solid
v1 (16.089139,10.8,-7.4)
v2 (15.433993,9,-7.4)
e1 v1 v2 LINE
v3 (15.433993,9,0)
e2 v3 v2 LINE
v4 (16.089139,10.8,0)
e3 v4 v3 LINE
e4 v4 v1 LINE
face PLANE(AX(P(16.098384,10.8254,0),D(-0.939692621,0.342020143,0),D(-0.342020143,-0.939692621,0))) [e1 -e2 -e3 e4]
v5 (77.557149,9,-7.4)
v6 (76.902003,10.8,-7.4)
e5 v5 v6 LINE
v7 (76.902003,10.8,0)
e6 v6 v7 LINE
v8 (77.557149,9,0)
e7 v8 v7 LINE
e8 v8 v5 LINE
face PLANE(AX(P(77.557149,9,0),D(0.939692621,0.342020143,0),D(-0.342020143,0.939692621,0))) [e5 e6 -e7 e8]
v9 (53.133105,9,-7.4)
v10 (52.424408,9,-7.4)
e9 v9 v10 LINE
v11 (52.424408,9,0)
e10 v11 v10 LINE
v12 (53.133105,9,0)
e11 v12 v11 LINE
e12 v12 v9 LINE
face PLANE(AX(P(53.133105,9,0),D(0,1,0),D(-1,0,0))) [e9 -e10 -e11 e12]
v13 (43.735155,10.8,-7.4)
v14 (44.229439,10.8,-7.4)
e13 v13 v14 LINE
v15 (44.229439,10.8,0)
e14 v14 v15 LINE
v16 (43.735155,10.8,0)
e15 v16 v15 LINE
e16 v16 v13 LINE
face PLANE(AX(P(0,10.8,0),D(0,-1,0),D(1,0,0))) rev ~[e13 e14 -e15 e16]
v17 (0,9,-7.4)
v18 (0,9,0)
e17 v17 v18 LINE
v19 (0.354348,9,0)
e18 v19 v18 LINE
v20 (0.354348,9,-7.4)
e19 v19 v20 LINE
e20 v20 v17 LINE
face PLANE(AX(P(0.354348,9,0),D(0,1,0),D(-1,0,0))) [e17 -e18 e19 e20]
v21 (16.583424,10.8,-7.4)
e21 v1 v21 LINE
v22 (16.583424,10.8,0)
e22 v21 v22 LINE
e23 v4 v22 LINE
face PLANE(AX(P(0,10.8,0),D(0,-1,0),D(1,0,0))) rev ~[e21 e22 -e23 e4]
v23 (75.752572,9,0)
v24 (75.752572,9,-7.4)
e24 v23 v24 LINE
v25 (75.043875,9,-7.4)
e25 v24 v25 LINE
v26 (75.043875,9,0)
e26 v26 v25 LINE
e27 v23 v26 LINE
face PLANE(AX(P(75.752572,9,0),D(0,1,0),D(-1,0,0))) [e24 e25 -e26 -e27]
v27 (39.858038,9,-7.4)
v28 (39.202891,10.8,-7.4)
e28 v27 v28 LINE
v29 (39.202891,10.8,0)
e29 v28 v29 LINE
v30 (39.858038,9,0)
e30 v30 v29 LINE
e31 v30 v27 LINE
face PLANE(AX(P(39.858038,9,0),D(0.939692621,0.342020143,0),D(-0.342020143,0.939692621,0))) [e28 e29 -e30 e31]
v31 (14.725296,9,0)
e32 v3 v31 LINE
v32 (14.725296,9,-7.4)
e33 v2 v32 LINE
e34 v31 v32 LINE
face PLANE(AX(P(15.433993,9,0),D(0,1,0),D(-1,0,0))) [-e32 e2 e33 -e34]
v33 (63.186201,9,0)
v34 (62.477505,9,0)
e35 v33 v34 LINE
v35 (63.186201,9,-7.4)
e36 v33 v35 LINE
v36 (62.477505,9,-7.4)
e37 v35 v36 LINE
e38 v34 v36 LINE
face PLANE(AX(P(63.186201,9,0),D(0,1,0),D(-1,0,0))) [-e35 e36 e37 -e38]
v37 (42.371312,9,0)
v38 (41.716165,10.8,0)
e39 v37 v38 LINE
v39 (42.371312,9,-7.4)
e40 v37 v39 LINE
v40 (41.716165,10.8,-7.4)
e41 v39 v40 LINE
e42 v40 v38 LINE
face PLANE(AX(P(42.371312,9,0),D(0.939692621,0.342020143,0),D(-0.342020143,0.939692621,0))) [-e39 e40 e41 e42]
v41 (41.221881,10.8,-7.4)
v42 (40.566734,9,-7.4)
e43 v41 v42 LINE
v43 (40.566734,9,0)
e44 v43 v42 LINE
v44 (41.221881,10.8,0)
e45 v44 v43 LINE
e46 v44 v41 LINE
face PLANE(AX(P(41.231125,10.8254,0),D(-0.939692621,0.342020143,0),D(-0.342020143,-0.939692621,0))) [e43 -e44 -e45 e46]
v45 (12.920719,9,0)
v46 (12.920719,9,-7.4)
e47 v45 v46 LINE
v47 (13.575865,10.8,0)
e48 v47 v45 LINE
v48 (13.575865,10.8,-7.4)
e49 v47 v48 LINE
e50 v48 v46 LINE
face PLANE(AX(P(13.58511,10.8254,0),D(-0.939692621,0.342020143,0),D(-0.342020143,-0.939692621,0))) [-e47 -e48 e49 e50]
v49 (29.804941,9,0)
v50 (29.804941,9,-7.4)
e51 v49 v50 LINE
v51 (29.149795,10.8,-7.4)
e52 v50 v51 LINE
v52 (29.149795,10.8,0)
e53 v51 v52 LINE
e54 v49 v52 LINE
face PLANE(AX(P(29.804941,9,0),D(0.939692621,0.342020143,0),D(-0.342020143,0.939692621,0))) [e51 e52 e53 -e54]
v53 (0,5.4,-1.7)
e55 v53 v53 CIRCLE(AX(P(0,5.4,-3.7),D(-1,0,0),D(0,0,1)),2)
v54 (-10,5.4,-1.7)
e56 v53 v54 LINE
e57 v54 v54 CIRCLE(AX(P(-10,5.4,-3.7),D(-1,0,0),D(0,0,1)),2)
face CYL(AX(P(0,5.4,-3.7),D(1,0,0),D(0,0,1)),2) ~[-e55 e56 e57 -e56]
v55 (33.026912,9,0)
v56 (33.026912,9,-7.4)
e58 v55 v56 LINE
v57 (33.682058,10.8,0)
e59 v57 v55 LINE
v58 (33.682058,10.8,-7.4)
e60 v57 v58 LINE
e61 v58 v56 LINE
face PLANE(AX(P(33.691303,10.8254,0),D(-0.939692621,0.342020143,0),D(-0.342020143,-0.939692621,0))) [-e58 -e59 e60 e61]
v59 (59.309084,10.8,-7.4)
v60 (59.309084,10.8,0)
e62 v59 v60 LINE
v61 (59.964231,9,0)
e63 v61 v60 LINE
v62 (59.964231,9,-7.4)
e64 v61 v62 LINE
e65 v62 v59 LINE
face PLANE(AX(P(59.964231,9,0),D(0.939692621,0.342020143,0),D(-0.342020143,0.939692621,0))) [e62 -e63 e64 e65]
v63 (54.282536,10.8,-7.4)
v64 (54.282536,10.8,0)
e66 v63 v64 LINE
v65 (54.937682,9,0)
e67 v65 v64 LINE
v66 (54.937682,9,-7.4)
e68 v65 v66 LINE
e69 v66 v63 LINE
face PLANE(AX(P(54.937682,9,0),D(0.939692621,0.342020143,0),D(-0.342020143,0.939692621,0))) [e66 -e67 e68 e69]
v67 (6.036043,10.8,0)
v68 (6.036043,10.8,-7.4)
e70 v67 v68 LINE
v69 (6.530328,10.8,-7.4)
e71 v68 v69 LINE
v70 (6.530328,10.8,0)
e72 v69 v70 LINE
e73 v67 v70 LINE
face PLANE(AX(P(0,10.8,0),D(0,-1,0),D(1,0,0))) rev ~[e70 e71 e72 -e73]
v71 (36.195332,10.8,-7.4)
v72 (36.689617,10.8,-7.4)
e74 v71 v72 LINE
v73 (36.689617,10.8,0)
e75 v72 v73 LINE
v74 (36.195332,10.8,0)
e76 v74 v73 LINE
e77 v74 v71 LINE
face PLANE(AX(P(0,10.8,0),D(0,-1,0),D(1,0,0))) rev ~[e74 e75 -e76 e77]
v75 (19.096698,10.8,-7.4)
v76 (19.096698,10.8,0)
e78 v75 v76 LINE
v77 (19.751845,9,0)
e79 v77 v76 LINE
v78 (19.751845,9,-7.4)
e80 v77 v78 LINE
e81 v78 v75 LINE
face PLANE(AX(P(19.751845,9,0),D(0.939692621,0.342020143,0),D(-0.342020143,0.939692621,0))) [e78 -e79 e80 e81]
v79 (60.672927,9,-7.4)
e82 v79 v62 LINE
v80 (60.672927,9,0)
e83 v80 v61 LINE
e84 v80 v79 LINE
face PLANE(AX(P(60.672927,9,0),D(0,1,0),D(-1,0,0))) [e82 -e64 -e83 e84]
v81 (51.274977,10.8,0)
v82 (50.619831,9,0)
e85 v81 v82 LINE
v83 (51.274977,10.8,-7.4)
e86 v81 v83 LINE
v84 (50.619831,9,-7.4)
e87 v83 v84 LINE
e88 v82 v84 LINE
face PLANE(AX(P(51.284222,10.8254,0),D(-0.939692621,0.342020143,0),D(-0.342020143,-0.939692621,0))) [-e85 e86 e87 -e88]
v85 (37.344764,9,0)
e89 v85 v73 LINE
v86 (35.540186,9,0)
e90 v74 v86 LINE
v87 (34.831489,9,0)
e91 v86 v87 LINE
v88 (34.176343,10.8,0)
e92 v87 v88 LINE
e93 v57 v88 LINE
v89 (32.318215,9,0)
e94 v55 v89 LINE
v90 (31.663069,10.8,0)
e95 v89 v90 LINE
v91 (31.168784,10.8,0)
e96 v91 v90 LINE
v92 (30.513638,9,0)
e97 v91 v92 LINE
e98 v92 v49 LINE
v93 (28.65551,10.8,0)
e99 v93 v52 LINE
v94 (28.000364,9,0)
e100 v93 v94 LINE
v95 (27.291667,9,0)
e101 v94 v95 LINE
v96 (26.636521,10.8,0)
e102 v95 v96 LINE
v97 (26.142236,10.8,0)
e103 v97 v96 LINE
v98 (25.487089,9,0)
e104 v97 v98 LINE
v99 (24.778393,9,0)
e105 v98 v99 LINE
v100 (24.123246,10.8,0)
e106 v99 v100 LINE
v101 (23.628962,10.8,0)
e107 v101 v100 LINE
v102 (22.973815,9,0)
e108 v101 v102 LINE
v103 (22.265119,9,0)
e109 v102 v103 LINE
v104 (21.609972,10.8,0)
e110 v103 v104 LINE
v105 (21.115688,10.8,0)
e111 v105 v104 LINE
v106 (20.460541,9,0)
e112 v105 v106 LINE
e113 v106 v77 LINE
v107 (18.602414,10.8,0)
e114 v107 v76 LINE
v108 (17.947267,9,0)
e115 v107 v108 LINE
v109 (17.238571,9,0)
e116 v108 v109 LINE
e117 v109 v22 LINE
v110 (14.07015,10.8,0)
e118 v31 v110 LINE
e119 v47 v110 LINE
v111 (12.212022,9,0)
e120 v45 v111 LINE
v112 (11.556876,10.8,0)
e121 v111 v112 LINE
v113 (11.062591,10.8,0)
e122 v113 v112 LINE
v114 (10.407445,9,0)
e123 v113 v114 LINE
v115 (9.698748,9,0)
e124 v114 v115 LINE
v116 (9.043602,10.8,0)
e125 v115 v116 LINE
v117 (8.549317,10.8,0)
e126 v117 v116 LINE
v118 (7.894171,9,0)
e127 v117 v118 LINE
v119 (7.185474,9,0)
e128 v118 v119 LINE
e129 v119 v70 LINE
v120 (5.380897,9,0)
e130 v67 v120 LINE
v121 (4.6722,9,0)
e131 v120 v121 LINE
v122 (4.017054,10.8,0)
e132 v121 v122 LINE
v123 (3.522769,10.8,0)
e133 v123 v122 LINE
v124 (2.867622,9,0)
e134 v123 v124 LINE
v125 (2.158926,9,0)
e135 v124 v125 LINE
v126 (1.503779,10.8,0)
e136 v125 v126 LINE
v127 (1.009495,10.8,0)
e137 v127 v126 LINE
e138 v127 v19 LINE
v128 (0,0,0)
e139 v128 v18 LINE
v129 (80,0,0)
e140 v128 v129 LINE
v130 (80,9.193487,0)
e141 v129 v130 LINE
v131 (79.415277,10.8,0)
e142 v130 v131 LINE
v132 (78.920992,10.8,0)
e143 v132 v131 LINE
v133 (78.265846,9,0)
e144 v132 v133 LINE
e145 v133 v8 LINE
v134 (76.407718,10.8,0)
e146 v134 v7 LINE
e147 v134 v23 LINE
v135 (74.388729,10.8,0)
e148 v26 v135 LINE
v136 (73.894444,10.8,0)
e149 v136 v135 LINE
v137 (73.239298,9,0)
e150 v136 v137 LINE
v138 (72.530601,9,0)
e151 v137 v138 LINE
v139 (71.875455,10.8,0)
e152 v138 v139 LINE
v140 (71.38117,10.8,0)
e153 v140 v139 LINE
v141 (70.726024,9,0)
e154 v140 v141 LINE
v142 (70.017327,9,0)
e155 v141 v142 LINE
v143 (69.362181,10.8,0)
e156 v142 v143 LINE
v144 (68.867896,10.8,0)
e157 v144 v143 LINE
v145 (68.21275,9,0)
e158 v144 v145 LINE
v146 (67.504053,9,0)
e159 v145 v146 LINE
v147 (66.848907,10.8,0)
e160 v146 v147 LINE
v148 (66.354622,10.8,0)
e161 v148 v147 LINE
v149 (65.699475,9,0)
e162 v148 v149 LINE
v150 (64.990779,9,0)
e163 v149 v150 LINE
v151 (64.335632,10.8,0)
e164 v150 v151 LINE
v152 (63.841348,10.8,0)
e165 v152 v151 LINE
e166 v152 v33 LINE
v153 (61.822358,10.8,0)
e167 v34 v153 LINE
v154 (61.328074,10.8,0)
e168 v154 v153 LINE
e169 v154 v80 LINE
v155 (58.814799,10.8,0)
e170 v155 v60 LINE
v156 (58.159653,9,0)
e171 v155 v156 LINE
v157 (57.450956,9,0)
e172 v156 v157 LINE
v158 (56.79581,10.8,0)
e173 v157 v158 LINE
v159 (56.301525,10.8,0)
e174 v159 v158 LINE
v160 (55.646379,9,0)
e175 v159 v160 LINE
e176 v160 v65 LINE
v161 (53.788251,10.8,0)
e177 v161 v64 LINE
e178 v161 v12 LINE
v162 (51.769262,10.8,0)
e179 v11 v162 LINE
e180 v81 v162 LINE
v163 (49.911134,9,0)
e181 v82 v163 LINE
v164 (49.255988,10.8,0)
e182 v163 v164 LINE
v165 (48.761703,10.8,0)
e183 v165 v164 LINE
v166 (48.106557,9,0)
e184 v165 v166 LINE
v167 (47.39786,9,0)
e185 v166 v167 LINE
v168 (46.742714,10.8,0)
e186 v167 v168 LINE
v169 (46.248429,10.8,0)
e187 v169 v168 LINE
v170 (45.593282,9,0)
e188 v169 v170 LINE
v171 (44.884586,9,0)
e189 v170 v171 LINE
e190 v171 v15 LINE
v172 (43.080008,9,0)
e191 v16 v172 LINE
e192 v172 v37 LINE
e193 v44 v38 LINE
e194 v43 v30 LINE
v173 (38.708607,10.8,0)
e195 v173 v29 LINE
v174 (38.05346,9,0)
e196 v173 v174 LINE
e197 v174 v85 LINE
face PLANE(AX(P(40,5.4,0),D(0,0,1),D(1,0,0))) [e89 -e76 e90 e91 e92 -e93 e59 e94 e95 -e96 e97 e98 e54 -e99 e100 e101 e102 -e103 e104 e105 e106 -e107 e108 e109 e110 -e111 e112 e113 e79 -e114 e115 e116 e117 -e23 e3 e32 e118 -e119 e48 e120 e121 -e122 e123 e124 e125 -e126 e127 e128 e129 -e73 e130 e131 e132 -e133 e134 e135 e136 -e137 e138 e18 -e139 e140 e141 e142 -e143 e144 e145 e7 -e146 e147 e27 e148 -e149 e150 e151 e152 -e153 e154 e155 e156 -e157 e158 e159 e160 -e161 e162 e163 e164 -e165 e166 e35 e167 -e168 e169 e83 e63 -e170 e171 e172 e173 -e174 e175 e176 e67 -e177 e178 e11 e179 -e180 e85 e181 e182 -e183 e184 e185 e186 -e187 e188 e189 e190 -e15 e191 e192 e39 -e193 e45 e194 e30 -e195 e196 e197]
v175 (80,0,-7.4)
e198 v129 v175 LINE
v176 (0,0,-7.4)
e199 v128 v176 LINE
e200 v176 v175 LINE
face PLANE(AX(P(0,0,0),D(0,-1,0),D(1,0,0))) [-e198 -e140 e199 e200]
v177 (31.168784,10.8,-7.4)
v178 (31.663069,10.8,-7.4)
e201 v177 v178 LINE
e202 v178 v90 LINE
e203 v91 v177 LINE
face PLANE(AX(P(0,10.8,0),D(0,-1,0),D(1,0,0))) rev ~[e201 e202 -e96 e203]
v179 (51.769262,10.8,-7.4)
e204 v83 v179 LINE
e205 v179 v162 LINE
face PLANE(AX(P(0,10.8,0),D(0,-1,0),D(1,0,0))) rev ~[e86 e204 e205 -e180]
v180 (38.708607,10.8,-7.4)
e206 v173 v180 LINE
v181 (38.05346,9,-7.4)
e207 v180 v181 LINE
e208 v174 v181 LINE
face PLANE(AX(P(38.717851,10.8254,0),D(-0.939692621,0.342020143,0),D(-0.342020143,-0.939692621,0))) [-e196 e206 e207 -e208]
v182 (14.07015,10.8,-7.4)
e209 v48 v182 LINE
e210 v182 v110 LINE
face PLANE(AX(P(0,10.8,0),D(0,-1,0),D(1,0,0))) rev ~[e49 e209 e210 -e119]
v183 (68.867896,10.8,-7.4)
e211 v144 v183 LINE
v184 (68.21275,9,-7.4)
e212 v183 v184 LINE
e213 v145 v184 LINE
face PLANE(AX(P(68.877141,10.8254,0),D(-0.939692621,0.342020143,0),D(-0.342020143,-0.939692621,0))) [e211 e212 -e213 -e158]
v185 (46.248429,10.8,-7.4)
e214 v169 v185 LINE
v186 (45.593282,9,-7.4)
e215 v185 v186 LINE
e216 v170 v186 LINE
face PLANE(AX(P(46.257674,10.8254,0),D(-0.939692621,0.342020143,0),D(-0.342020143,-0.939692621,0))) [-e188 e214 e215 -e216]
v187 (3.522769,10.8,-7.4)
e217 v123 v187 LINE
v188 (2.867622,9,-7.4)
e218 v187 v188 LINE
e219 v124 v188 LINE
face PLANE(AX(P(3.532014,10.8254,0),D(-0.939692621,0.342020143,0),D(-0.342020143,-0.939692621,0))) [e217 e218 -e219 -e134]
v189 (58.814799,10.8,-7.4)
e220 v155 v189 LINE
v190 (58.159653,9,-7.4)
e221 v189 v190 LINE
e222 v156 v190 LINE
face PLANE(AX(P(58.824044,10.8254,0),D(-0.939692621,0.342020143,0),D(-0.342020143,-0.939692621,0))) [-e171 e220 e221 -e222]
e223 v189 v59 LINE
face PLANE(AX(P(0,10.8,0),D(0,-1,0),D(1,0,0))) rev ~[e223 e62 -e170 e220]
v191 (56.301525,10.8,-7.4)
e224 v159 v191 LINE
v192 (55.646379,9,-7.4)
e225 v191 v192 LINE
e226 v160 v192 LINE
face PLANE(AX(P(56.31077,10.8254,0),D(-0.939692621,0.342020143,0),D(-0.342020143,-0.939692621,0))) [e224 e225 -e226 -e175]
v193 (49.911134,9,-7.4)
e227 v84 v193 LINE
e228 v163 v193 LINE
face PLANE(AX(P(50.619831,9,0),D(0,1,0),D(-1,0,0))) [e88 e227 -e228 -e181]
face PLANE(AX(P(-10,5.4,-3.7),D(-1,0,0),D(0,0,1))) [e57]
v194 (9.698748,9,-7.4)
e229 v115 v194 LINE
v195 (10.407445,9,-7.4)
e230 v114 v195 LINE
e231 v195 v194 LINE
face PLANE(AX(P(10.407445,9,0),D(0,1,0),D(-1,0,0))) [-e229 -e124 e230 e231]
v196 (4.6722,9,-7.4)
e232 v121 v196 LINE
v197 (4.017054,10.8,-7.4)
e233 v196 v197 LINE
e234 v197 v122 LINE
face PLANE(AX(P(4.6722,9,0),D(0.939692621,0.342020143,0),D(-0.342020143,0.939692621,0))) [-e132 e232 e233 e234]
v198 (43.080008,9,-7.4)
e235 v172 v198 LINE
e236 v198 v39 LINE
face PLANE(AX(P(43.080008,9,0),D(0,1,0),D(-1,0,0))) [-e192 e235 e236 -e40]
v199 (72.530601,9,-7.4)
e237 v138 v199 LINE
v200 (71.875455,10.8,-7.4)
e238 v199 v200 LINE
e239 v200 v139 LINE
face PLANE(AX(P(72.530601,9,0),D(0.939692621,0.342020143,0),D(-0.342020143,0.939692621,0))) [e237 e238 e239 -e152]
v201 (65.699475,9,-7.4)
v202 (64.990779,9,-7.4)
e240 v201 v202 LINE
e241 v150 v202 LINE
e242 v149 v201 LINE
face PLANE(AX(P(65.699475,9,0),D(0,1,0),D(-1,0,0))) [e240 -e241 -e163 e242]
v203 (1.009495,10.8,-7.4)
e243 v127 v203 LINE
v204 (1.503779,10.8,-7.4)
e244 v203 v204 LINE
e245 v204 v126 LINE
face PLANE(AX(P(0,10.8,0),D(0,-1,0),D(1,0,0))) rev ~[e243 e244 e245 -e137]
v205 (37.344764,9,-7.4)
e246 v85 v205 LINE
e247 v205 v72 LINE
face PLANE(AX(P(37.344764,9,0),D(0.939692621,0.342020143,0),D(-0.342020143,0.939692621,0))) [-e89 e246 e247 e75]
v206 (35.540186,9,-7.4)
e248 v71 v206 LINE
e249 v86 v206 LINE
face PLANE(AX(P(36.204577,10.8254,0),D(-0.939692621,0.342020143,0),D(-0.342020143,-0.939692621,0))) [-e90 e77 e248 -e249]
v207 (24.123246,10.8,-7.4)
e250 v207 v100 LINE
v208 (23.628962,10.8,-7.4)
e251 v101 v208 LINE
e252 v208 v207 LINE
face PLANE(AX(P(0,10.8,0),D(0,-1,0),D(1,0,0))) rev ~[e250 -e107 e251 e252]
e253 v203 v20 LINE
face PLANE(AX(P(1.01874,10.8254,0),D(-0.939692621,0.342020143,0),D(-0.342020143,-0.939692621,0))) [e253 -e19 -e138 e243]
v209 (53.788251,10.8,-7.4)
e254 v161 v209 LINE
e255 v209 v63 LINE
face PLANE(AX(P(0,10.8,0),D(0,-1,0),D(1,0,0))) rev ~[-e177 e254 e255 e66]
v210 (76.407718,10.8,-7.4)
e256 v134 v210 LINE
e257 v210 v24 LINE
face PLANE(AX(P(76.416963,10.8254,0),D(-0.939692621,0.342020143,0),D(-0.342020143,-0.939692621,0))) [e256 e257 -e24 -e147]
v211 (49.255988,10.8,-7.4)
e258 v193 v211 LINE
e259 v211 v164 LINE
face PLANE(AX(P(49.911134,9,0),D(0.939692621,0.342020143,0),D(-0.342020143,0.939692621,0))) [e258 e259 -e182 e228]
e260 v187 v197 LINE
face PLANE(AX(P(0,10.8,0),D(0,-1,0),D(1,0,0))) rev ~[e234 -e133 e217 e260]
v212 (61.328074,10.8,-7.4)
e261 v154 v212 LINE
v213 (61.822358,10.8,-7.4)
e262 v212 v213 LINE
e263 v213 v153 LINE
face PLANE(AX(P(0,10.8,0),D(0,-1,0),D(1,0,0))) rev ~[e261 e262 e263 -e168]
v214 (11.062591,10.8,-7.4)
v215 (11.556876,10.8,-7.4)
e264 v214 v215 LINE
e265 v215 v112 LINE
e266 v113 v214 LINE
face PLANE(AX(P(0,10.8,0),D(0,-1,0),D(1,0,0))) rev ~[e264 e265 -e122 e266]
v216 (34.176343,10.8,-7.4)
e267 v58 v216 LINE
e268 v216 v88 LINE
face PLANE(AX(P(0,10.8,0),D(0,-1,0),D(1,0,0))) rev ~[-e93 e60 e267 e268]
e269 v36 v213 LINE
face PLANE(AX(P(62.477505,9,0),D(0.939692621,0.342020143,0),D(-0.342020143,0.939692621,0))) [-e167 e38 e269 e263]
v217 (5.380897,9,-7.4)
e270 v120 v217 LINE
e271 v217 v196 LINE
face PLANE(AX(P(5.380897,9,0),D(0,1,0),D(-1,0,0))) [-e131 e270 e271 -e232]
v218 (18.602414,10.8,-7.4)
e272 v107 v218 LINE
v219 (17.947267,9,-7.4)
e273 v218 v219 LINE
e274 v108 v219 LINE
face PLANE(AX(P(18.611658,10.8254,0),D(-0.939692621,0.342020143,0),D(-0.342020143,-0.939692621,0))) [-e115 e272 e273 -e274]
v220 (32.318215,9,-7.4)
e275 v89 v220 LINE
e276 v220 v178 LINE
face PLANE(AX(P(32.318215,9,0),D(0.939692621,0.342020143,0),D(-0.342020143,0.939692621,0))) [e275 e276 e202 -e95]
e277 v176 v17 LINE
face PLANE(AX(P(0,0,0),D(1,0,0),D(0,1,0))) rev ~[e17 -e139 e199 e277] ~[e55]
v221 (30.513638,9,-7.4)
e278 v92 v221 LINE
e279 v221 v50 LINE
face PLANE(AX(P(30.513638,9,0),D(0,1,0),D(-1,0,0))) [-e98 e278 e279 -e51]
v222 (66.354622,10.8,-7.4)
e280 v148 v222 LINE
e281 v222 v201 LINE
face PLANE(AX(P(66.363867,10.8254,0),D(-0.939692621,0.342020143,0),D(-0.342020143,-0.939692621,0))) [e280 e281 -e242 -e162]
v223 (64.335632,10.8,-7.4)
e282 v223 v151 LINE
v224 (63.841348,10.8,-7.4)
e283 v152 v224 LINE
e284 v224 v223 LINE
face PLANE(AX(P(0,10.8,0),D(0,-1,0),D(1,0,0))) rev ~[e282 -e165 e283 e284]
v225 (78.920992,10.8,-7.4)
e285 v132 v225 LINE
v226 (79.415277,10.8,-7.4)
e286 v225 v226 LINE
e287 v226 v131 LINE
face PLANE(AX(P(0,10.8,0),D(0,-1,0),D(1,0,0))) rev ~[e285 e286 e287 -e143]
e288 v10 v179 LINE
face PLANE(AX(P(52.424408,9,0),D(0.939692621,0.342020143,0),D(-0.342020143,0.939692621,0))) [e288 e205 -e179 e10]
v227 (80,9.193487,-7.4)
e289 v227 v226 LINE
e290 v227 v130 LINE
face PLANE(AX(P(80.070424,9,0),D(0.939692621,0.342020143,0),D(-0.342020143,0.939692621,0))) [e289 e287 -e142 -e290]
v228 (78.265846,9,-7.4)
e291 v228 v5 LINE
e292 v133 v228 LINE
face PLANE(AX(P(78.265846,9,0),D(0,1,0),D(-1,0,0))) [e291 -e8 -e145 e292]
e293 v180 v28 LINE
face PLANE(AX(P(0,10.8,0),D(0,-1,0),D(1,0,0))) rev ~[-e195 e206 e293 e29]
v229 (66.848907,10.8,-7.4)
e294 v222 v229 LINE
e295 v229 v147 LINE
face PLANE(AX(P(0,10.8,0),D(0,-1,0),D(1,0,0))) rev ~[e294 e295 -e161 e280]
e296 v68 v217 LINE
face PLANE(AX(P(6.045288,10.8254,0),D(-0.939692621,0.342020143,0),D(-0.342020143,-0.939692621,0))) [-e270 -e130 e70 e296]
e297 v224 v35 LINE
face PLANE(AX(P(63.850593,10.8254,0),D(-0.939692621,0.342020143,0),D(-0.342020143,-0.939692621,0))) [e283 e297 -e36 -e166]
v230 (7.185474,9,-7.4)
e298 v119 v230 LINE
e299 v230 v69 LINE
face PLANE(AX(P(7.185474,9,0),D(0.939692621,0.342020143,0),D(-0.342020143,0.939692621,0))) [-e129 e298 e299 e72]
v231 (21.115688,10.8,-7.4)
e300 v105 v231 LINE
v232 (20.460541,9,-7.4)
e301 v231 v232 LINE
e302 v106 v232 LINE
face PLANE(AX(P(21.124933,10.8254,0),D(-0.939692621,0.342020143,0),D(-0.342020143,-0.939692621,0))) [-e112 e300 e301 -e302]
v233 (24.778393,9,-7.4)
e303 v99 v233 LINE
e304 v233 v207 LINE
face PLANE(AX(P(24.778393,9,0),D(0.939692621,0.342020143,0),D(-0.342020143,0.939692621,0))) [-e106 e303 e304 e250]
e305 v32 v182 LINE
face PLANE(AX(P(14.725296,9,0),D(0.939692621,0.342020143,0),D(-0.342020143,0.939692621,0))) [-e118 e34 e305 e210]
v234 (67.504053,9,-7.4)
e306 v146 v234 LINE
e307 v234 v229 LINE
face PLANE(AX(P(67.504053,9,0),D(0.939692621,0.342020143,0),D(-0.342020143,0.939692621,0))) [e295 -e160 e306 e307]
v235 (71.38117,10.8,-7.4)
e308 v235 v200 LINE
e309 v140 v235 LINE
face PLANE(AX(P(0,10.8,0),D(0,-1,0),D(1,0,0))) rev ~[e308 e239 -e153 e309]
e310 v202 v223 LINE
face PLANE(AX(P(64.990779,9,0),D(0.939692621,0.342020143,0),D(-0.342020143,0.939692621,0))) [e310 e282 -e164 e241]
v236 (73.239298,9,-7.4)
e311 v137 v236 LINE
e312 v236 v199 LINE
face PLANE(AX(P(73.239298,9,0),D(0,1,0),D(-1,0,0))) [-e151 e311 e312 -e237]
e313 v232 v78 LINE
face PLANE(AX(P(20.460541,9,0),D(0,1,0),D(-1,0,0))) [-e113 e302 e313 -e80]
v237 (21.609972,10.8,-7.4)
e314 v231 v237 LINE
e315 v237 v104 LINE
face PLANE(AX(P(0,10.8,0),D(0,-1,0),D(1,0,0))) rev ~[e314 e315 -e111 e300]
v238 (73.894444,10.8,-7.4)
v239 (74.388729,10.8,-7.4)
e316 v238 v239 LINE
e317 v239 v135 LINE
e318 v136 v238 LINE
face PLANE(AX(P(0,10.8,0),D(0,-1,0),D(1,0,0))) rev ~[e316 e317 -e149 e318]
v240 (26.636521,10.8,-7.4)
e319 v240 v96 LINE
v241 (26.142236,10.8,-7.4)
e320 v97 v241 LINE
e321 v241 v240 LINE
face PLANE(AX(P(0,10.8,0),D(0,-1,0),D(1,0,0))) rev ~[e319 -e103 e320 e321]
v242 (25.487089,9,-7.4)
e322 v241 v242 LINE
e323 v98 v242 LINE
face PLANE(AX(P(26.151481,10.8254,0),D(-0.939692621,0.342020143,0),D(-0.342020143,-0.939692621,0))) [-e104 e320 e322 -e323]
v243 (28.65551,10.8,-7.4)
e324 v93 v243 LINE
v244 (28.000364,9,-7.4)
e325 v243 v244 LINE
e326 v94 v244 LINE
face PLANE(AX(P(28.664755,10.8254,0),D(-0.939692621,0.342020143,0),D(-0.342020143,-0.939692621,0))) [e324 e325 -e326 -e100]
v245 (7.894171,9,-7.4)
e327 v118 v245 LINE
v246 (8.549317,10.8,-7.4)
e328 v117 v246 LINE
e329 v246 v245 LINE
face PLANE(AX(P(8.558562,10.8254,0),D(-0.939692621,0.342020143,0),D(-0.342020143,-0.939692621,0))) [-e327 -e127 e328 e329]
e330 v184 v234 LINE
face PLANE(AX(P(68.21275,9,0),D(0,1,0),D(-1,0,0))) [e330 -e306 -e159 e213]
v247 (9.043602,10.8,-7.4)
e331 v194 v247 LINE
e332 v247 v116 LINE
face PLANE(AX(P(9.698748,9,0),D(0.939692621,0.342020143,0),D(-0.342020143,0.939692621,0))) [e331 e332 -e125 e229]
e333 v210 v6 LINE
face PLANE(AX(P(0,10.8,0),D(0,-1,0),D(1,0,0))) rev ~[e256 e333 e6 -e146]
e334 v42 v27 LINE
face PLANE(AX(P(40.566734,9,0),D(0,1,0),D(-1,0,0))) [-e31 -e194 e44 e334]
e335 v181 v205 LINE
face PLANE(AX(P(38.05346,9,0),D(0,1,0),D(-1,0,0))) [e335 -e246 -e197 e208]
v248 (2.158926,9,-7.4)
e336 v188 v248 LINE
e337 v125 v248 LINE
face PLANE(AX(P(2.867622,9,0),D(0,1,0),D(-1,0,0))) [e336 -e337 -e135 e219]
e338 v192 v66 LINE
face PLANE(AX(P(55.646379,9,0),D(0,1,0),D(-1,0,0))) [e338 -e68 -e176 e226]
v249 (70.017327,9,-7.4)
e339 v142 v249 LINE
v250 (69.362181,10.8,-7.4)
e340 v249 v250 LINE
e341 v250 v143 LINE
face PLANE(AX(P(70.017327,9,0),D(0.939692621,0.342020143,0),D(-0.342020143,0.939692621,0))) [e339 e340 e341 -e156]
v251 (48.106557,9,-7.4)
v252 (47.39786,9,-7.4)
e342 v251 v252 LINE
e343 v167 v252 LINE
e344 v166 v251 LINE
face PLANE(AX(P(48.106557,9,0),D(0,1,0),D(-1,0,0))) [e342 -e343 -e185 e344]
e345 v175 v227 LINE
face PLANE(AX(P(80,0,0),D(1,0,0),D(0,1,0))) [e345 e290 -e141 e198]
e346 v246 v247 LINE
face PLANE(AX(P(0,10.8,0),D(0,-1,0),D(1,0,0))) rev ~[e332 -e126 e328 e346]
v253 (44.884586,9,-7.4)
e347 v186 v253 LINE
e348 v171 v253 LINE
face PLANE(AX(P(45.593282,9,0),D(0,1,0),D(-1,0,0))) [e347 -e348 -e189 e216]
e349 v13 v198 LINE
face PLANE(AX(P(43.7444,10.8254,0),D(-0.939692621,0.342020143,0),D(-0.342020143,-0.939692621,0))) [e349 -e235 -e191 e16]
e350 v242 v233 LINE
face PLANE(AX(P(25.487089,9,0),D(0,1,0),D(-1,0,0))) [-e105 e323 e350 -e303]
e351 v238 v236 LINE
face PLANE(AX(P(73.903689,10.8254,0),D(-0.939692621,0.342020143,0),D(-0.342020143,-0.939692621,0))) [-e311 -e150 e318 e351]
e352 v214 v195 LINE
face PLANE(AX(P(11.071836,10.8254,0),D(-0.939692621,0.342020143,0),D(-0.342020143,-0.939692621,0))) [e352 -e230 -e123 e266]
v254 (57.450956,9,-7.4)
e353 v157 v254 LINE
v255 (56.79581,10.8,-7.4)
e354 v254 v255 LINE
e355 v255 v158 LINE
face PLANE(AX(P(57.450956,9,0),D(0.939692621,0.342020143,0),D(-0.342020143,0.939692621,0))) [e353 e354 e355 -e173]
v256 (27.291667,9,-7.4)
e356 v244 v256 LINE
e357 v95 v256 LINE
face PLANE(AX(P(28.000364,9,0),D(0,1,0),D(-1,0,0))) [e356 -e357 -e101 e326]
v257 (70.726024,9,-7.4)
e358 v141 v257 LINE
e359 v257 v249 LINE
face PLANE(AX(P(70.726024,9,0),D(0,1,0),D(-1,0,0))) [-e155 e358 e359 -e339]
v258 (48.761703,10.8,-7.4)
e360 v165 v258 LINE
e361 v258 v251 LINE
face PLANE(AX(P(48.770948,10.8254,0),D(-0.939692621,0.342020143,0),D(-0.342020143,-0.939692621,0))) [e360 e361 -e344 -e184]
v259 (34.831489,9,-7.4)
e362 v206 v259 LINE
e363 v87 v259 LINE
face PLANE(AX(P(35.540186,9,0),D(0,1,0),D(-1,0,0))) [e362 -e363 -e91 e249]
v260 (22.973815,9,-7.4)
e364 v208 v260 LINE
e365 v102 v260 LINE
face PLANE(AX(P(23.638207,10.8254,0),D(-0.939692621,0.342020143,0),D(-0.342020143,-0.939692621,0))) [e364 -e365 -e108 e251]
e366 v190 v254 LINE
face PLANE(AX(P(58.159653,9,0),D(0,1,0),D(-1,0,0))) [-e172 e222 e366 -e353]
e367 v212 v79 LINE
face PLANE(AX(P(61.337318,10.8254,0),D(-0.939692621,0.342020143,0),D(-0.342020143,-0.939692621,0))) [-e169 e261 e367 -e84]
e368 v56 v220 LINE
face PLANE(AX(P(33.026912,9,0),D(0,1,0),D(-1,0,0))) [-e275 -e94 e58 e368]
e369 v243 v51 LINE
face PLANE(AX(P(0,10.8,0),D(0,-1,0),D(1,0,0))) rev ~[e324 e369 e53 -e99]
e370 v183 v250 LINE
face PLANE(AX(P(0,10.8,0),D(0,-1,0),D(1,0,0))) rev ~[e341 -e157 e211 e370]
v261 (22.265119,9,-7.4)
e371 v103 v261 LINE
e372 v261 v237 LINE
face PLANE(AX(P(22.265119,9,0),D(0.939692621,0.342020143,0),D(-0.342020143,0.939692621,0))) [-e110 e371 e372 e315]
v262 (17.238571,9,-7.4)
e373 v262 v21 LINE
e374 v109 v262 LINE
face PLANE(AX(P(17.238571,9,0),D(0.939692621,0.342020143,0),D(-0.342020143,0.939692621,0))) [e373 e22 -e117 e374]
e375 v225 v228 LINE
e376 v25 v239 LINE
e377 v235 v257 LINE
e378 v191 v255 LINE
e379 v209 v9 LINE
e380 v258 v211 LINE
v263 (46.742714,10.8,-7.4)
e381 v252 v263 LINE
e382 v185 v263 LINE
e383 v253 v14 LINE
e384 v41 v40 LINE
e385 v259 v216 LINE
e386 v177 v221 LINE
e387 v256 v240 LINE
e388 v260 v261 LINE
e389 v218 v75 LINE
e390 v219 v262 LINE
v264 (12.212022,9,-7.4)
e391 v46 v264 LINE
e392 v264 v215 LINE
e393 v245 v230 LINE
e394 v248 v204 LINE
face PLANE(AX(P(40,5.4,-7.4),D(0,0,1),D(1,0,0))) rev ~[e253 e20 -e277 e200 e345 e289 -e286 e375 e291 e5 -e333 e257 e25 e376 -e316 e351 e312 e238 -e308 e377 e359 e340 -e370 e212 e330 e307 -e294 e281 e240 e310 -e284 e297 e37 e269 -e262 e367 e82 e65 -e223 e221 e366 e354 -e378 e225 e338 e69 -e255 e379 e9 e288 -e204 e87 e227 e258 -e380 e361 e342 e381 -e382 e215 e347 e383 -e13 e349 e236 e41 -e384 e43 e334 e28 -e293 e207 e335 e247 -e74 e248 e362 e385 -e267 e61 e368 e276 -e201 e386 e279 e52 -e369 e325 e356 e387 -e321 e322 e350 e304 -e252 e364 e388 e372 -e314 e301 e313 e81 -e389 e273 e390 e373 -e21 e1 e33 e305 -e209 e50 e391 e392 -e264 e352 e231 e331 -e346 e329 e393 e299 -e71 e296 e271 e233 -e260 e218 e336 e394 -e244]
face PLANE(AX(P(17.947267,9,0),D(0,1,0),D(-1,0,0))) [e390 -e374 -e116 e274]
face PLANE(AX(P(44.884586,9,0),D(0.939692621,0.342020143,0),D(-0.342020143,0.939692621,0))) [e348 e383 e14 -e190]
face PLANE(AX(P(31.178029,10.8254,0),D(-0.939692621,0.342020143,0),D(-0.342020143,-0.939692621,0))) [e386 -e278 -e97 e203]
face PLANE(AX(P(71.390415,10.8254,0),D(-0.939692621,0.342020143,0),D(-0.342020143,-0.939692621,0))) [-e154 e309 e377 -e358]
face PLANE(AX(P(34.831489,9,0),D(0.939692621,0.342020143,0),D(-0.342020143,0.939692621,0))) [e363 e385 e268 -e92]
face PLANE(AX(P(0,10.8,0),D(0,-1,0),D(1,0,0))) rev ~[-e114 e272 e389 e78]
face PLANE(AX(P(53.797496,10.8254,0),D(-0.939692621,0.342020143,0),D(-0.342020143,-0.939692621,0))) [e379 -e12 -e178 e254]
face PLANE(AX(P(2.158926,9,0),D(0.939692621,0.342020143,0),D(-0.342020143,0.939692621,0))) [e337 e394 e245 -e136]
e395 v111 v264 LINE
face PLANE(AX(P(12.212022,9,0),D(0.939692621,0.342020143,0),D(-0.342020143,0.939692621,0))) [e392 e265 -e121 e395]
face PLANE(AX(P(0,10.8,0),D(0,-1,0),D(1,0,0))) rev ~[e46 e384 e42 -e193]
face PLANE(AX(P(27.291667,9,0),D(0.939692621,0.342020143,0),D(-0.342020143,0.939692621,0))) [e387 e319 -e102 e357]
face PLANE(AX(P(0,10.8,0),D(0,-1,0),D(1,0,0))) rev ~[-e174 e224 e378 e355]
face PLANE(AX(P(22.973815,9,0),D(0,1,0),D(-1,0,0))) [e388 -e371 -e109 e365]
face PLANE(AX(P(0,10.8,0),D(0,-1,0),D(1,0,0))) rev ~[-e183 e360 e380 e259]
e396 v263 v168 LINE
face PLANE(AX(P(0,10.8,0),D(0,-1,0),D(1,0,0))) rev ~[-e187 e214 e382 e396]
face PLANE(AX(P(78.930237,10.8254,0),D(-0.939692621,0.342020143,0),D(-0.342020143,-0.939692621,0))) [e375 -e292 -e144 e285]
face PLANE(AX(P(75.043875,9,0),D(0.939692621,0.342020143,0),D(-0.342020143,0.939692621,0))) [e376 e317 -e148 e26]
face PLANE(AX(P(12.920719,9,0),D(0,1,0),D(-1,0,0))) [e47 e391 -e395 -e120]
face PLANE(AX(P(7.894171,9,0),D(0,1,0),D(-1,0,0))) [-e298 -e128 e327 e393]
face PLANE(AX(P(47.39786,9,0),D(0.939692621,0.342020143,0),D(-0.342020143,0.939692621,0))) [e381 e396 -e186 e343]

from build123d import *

# Parameters (mm, degrees)
BLANKSKE_W        = 80
BLANKSKE_H        = 10.8
BLANK_DEPTH       = 7.4
TOOTHCUTSIM_DEPTH = 82.064172111
TEETHCUTS_COUNT   = 33
TEETHCUTS_PITCH   = 2.51327412
SKETCH_1_R        = 2
EXTRUDE_1_DEPTH   = 10


with BuildPart() as part:
    # BlankSke → Blank (new body)
    with BuildSketch(Plane.XY):
        with Locations((40, 5.4)):
            Rectangle(BLANKSKE_W, BLANKSKE_H)
    extrude(amount=-BLANK_DEPTH)

    # TooCutSkeSim → ToothCutSim (cut, through all)
    with BuildSketch(Plane.XY):
        Polygon((0.354348296, 9), (-0.354348296, 9), (-1.018739561, 10.8254), (1.018739561, 10.8254), align=None)
    toothcutsim = extrude(amount=-TOOTHCUTSIM_DEPTH, mode=Mode.SUBTRACT)

    # TeethCuts: ToothCutSim ×33
    with Locations(*[(i * TEETHCUTS_PITCH, 0, 0) for i in range(1, TEETHCUTS_COUNT)]):
        add(toothcutsim, mode=Mode.SUBTRACT)

    # 草图1 → 凸台-拉伸1 (add)
    with BuildSketch(Plane.ZY):
        with Locations((-3.7, 5.4)):
            Circle(SKETCH_1_R)
    extrude(amount=EXTRUDE_1_DEPTH)


solid = part.part
